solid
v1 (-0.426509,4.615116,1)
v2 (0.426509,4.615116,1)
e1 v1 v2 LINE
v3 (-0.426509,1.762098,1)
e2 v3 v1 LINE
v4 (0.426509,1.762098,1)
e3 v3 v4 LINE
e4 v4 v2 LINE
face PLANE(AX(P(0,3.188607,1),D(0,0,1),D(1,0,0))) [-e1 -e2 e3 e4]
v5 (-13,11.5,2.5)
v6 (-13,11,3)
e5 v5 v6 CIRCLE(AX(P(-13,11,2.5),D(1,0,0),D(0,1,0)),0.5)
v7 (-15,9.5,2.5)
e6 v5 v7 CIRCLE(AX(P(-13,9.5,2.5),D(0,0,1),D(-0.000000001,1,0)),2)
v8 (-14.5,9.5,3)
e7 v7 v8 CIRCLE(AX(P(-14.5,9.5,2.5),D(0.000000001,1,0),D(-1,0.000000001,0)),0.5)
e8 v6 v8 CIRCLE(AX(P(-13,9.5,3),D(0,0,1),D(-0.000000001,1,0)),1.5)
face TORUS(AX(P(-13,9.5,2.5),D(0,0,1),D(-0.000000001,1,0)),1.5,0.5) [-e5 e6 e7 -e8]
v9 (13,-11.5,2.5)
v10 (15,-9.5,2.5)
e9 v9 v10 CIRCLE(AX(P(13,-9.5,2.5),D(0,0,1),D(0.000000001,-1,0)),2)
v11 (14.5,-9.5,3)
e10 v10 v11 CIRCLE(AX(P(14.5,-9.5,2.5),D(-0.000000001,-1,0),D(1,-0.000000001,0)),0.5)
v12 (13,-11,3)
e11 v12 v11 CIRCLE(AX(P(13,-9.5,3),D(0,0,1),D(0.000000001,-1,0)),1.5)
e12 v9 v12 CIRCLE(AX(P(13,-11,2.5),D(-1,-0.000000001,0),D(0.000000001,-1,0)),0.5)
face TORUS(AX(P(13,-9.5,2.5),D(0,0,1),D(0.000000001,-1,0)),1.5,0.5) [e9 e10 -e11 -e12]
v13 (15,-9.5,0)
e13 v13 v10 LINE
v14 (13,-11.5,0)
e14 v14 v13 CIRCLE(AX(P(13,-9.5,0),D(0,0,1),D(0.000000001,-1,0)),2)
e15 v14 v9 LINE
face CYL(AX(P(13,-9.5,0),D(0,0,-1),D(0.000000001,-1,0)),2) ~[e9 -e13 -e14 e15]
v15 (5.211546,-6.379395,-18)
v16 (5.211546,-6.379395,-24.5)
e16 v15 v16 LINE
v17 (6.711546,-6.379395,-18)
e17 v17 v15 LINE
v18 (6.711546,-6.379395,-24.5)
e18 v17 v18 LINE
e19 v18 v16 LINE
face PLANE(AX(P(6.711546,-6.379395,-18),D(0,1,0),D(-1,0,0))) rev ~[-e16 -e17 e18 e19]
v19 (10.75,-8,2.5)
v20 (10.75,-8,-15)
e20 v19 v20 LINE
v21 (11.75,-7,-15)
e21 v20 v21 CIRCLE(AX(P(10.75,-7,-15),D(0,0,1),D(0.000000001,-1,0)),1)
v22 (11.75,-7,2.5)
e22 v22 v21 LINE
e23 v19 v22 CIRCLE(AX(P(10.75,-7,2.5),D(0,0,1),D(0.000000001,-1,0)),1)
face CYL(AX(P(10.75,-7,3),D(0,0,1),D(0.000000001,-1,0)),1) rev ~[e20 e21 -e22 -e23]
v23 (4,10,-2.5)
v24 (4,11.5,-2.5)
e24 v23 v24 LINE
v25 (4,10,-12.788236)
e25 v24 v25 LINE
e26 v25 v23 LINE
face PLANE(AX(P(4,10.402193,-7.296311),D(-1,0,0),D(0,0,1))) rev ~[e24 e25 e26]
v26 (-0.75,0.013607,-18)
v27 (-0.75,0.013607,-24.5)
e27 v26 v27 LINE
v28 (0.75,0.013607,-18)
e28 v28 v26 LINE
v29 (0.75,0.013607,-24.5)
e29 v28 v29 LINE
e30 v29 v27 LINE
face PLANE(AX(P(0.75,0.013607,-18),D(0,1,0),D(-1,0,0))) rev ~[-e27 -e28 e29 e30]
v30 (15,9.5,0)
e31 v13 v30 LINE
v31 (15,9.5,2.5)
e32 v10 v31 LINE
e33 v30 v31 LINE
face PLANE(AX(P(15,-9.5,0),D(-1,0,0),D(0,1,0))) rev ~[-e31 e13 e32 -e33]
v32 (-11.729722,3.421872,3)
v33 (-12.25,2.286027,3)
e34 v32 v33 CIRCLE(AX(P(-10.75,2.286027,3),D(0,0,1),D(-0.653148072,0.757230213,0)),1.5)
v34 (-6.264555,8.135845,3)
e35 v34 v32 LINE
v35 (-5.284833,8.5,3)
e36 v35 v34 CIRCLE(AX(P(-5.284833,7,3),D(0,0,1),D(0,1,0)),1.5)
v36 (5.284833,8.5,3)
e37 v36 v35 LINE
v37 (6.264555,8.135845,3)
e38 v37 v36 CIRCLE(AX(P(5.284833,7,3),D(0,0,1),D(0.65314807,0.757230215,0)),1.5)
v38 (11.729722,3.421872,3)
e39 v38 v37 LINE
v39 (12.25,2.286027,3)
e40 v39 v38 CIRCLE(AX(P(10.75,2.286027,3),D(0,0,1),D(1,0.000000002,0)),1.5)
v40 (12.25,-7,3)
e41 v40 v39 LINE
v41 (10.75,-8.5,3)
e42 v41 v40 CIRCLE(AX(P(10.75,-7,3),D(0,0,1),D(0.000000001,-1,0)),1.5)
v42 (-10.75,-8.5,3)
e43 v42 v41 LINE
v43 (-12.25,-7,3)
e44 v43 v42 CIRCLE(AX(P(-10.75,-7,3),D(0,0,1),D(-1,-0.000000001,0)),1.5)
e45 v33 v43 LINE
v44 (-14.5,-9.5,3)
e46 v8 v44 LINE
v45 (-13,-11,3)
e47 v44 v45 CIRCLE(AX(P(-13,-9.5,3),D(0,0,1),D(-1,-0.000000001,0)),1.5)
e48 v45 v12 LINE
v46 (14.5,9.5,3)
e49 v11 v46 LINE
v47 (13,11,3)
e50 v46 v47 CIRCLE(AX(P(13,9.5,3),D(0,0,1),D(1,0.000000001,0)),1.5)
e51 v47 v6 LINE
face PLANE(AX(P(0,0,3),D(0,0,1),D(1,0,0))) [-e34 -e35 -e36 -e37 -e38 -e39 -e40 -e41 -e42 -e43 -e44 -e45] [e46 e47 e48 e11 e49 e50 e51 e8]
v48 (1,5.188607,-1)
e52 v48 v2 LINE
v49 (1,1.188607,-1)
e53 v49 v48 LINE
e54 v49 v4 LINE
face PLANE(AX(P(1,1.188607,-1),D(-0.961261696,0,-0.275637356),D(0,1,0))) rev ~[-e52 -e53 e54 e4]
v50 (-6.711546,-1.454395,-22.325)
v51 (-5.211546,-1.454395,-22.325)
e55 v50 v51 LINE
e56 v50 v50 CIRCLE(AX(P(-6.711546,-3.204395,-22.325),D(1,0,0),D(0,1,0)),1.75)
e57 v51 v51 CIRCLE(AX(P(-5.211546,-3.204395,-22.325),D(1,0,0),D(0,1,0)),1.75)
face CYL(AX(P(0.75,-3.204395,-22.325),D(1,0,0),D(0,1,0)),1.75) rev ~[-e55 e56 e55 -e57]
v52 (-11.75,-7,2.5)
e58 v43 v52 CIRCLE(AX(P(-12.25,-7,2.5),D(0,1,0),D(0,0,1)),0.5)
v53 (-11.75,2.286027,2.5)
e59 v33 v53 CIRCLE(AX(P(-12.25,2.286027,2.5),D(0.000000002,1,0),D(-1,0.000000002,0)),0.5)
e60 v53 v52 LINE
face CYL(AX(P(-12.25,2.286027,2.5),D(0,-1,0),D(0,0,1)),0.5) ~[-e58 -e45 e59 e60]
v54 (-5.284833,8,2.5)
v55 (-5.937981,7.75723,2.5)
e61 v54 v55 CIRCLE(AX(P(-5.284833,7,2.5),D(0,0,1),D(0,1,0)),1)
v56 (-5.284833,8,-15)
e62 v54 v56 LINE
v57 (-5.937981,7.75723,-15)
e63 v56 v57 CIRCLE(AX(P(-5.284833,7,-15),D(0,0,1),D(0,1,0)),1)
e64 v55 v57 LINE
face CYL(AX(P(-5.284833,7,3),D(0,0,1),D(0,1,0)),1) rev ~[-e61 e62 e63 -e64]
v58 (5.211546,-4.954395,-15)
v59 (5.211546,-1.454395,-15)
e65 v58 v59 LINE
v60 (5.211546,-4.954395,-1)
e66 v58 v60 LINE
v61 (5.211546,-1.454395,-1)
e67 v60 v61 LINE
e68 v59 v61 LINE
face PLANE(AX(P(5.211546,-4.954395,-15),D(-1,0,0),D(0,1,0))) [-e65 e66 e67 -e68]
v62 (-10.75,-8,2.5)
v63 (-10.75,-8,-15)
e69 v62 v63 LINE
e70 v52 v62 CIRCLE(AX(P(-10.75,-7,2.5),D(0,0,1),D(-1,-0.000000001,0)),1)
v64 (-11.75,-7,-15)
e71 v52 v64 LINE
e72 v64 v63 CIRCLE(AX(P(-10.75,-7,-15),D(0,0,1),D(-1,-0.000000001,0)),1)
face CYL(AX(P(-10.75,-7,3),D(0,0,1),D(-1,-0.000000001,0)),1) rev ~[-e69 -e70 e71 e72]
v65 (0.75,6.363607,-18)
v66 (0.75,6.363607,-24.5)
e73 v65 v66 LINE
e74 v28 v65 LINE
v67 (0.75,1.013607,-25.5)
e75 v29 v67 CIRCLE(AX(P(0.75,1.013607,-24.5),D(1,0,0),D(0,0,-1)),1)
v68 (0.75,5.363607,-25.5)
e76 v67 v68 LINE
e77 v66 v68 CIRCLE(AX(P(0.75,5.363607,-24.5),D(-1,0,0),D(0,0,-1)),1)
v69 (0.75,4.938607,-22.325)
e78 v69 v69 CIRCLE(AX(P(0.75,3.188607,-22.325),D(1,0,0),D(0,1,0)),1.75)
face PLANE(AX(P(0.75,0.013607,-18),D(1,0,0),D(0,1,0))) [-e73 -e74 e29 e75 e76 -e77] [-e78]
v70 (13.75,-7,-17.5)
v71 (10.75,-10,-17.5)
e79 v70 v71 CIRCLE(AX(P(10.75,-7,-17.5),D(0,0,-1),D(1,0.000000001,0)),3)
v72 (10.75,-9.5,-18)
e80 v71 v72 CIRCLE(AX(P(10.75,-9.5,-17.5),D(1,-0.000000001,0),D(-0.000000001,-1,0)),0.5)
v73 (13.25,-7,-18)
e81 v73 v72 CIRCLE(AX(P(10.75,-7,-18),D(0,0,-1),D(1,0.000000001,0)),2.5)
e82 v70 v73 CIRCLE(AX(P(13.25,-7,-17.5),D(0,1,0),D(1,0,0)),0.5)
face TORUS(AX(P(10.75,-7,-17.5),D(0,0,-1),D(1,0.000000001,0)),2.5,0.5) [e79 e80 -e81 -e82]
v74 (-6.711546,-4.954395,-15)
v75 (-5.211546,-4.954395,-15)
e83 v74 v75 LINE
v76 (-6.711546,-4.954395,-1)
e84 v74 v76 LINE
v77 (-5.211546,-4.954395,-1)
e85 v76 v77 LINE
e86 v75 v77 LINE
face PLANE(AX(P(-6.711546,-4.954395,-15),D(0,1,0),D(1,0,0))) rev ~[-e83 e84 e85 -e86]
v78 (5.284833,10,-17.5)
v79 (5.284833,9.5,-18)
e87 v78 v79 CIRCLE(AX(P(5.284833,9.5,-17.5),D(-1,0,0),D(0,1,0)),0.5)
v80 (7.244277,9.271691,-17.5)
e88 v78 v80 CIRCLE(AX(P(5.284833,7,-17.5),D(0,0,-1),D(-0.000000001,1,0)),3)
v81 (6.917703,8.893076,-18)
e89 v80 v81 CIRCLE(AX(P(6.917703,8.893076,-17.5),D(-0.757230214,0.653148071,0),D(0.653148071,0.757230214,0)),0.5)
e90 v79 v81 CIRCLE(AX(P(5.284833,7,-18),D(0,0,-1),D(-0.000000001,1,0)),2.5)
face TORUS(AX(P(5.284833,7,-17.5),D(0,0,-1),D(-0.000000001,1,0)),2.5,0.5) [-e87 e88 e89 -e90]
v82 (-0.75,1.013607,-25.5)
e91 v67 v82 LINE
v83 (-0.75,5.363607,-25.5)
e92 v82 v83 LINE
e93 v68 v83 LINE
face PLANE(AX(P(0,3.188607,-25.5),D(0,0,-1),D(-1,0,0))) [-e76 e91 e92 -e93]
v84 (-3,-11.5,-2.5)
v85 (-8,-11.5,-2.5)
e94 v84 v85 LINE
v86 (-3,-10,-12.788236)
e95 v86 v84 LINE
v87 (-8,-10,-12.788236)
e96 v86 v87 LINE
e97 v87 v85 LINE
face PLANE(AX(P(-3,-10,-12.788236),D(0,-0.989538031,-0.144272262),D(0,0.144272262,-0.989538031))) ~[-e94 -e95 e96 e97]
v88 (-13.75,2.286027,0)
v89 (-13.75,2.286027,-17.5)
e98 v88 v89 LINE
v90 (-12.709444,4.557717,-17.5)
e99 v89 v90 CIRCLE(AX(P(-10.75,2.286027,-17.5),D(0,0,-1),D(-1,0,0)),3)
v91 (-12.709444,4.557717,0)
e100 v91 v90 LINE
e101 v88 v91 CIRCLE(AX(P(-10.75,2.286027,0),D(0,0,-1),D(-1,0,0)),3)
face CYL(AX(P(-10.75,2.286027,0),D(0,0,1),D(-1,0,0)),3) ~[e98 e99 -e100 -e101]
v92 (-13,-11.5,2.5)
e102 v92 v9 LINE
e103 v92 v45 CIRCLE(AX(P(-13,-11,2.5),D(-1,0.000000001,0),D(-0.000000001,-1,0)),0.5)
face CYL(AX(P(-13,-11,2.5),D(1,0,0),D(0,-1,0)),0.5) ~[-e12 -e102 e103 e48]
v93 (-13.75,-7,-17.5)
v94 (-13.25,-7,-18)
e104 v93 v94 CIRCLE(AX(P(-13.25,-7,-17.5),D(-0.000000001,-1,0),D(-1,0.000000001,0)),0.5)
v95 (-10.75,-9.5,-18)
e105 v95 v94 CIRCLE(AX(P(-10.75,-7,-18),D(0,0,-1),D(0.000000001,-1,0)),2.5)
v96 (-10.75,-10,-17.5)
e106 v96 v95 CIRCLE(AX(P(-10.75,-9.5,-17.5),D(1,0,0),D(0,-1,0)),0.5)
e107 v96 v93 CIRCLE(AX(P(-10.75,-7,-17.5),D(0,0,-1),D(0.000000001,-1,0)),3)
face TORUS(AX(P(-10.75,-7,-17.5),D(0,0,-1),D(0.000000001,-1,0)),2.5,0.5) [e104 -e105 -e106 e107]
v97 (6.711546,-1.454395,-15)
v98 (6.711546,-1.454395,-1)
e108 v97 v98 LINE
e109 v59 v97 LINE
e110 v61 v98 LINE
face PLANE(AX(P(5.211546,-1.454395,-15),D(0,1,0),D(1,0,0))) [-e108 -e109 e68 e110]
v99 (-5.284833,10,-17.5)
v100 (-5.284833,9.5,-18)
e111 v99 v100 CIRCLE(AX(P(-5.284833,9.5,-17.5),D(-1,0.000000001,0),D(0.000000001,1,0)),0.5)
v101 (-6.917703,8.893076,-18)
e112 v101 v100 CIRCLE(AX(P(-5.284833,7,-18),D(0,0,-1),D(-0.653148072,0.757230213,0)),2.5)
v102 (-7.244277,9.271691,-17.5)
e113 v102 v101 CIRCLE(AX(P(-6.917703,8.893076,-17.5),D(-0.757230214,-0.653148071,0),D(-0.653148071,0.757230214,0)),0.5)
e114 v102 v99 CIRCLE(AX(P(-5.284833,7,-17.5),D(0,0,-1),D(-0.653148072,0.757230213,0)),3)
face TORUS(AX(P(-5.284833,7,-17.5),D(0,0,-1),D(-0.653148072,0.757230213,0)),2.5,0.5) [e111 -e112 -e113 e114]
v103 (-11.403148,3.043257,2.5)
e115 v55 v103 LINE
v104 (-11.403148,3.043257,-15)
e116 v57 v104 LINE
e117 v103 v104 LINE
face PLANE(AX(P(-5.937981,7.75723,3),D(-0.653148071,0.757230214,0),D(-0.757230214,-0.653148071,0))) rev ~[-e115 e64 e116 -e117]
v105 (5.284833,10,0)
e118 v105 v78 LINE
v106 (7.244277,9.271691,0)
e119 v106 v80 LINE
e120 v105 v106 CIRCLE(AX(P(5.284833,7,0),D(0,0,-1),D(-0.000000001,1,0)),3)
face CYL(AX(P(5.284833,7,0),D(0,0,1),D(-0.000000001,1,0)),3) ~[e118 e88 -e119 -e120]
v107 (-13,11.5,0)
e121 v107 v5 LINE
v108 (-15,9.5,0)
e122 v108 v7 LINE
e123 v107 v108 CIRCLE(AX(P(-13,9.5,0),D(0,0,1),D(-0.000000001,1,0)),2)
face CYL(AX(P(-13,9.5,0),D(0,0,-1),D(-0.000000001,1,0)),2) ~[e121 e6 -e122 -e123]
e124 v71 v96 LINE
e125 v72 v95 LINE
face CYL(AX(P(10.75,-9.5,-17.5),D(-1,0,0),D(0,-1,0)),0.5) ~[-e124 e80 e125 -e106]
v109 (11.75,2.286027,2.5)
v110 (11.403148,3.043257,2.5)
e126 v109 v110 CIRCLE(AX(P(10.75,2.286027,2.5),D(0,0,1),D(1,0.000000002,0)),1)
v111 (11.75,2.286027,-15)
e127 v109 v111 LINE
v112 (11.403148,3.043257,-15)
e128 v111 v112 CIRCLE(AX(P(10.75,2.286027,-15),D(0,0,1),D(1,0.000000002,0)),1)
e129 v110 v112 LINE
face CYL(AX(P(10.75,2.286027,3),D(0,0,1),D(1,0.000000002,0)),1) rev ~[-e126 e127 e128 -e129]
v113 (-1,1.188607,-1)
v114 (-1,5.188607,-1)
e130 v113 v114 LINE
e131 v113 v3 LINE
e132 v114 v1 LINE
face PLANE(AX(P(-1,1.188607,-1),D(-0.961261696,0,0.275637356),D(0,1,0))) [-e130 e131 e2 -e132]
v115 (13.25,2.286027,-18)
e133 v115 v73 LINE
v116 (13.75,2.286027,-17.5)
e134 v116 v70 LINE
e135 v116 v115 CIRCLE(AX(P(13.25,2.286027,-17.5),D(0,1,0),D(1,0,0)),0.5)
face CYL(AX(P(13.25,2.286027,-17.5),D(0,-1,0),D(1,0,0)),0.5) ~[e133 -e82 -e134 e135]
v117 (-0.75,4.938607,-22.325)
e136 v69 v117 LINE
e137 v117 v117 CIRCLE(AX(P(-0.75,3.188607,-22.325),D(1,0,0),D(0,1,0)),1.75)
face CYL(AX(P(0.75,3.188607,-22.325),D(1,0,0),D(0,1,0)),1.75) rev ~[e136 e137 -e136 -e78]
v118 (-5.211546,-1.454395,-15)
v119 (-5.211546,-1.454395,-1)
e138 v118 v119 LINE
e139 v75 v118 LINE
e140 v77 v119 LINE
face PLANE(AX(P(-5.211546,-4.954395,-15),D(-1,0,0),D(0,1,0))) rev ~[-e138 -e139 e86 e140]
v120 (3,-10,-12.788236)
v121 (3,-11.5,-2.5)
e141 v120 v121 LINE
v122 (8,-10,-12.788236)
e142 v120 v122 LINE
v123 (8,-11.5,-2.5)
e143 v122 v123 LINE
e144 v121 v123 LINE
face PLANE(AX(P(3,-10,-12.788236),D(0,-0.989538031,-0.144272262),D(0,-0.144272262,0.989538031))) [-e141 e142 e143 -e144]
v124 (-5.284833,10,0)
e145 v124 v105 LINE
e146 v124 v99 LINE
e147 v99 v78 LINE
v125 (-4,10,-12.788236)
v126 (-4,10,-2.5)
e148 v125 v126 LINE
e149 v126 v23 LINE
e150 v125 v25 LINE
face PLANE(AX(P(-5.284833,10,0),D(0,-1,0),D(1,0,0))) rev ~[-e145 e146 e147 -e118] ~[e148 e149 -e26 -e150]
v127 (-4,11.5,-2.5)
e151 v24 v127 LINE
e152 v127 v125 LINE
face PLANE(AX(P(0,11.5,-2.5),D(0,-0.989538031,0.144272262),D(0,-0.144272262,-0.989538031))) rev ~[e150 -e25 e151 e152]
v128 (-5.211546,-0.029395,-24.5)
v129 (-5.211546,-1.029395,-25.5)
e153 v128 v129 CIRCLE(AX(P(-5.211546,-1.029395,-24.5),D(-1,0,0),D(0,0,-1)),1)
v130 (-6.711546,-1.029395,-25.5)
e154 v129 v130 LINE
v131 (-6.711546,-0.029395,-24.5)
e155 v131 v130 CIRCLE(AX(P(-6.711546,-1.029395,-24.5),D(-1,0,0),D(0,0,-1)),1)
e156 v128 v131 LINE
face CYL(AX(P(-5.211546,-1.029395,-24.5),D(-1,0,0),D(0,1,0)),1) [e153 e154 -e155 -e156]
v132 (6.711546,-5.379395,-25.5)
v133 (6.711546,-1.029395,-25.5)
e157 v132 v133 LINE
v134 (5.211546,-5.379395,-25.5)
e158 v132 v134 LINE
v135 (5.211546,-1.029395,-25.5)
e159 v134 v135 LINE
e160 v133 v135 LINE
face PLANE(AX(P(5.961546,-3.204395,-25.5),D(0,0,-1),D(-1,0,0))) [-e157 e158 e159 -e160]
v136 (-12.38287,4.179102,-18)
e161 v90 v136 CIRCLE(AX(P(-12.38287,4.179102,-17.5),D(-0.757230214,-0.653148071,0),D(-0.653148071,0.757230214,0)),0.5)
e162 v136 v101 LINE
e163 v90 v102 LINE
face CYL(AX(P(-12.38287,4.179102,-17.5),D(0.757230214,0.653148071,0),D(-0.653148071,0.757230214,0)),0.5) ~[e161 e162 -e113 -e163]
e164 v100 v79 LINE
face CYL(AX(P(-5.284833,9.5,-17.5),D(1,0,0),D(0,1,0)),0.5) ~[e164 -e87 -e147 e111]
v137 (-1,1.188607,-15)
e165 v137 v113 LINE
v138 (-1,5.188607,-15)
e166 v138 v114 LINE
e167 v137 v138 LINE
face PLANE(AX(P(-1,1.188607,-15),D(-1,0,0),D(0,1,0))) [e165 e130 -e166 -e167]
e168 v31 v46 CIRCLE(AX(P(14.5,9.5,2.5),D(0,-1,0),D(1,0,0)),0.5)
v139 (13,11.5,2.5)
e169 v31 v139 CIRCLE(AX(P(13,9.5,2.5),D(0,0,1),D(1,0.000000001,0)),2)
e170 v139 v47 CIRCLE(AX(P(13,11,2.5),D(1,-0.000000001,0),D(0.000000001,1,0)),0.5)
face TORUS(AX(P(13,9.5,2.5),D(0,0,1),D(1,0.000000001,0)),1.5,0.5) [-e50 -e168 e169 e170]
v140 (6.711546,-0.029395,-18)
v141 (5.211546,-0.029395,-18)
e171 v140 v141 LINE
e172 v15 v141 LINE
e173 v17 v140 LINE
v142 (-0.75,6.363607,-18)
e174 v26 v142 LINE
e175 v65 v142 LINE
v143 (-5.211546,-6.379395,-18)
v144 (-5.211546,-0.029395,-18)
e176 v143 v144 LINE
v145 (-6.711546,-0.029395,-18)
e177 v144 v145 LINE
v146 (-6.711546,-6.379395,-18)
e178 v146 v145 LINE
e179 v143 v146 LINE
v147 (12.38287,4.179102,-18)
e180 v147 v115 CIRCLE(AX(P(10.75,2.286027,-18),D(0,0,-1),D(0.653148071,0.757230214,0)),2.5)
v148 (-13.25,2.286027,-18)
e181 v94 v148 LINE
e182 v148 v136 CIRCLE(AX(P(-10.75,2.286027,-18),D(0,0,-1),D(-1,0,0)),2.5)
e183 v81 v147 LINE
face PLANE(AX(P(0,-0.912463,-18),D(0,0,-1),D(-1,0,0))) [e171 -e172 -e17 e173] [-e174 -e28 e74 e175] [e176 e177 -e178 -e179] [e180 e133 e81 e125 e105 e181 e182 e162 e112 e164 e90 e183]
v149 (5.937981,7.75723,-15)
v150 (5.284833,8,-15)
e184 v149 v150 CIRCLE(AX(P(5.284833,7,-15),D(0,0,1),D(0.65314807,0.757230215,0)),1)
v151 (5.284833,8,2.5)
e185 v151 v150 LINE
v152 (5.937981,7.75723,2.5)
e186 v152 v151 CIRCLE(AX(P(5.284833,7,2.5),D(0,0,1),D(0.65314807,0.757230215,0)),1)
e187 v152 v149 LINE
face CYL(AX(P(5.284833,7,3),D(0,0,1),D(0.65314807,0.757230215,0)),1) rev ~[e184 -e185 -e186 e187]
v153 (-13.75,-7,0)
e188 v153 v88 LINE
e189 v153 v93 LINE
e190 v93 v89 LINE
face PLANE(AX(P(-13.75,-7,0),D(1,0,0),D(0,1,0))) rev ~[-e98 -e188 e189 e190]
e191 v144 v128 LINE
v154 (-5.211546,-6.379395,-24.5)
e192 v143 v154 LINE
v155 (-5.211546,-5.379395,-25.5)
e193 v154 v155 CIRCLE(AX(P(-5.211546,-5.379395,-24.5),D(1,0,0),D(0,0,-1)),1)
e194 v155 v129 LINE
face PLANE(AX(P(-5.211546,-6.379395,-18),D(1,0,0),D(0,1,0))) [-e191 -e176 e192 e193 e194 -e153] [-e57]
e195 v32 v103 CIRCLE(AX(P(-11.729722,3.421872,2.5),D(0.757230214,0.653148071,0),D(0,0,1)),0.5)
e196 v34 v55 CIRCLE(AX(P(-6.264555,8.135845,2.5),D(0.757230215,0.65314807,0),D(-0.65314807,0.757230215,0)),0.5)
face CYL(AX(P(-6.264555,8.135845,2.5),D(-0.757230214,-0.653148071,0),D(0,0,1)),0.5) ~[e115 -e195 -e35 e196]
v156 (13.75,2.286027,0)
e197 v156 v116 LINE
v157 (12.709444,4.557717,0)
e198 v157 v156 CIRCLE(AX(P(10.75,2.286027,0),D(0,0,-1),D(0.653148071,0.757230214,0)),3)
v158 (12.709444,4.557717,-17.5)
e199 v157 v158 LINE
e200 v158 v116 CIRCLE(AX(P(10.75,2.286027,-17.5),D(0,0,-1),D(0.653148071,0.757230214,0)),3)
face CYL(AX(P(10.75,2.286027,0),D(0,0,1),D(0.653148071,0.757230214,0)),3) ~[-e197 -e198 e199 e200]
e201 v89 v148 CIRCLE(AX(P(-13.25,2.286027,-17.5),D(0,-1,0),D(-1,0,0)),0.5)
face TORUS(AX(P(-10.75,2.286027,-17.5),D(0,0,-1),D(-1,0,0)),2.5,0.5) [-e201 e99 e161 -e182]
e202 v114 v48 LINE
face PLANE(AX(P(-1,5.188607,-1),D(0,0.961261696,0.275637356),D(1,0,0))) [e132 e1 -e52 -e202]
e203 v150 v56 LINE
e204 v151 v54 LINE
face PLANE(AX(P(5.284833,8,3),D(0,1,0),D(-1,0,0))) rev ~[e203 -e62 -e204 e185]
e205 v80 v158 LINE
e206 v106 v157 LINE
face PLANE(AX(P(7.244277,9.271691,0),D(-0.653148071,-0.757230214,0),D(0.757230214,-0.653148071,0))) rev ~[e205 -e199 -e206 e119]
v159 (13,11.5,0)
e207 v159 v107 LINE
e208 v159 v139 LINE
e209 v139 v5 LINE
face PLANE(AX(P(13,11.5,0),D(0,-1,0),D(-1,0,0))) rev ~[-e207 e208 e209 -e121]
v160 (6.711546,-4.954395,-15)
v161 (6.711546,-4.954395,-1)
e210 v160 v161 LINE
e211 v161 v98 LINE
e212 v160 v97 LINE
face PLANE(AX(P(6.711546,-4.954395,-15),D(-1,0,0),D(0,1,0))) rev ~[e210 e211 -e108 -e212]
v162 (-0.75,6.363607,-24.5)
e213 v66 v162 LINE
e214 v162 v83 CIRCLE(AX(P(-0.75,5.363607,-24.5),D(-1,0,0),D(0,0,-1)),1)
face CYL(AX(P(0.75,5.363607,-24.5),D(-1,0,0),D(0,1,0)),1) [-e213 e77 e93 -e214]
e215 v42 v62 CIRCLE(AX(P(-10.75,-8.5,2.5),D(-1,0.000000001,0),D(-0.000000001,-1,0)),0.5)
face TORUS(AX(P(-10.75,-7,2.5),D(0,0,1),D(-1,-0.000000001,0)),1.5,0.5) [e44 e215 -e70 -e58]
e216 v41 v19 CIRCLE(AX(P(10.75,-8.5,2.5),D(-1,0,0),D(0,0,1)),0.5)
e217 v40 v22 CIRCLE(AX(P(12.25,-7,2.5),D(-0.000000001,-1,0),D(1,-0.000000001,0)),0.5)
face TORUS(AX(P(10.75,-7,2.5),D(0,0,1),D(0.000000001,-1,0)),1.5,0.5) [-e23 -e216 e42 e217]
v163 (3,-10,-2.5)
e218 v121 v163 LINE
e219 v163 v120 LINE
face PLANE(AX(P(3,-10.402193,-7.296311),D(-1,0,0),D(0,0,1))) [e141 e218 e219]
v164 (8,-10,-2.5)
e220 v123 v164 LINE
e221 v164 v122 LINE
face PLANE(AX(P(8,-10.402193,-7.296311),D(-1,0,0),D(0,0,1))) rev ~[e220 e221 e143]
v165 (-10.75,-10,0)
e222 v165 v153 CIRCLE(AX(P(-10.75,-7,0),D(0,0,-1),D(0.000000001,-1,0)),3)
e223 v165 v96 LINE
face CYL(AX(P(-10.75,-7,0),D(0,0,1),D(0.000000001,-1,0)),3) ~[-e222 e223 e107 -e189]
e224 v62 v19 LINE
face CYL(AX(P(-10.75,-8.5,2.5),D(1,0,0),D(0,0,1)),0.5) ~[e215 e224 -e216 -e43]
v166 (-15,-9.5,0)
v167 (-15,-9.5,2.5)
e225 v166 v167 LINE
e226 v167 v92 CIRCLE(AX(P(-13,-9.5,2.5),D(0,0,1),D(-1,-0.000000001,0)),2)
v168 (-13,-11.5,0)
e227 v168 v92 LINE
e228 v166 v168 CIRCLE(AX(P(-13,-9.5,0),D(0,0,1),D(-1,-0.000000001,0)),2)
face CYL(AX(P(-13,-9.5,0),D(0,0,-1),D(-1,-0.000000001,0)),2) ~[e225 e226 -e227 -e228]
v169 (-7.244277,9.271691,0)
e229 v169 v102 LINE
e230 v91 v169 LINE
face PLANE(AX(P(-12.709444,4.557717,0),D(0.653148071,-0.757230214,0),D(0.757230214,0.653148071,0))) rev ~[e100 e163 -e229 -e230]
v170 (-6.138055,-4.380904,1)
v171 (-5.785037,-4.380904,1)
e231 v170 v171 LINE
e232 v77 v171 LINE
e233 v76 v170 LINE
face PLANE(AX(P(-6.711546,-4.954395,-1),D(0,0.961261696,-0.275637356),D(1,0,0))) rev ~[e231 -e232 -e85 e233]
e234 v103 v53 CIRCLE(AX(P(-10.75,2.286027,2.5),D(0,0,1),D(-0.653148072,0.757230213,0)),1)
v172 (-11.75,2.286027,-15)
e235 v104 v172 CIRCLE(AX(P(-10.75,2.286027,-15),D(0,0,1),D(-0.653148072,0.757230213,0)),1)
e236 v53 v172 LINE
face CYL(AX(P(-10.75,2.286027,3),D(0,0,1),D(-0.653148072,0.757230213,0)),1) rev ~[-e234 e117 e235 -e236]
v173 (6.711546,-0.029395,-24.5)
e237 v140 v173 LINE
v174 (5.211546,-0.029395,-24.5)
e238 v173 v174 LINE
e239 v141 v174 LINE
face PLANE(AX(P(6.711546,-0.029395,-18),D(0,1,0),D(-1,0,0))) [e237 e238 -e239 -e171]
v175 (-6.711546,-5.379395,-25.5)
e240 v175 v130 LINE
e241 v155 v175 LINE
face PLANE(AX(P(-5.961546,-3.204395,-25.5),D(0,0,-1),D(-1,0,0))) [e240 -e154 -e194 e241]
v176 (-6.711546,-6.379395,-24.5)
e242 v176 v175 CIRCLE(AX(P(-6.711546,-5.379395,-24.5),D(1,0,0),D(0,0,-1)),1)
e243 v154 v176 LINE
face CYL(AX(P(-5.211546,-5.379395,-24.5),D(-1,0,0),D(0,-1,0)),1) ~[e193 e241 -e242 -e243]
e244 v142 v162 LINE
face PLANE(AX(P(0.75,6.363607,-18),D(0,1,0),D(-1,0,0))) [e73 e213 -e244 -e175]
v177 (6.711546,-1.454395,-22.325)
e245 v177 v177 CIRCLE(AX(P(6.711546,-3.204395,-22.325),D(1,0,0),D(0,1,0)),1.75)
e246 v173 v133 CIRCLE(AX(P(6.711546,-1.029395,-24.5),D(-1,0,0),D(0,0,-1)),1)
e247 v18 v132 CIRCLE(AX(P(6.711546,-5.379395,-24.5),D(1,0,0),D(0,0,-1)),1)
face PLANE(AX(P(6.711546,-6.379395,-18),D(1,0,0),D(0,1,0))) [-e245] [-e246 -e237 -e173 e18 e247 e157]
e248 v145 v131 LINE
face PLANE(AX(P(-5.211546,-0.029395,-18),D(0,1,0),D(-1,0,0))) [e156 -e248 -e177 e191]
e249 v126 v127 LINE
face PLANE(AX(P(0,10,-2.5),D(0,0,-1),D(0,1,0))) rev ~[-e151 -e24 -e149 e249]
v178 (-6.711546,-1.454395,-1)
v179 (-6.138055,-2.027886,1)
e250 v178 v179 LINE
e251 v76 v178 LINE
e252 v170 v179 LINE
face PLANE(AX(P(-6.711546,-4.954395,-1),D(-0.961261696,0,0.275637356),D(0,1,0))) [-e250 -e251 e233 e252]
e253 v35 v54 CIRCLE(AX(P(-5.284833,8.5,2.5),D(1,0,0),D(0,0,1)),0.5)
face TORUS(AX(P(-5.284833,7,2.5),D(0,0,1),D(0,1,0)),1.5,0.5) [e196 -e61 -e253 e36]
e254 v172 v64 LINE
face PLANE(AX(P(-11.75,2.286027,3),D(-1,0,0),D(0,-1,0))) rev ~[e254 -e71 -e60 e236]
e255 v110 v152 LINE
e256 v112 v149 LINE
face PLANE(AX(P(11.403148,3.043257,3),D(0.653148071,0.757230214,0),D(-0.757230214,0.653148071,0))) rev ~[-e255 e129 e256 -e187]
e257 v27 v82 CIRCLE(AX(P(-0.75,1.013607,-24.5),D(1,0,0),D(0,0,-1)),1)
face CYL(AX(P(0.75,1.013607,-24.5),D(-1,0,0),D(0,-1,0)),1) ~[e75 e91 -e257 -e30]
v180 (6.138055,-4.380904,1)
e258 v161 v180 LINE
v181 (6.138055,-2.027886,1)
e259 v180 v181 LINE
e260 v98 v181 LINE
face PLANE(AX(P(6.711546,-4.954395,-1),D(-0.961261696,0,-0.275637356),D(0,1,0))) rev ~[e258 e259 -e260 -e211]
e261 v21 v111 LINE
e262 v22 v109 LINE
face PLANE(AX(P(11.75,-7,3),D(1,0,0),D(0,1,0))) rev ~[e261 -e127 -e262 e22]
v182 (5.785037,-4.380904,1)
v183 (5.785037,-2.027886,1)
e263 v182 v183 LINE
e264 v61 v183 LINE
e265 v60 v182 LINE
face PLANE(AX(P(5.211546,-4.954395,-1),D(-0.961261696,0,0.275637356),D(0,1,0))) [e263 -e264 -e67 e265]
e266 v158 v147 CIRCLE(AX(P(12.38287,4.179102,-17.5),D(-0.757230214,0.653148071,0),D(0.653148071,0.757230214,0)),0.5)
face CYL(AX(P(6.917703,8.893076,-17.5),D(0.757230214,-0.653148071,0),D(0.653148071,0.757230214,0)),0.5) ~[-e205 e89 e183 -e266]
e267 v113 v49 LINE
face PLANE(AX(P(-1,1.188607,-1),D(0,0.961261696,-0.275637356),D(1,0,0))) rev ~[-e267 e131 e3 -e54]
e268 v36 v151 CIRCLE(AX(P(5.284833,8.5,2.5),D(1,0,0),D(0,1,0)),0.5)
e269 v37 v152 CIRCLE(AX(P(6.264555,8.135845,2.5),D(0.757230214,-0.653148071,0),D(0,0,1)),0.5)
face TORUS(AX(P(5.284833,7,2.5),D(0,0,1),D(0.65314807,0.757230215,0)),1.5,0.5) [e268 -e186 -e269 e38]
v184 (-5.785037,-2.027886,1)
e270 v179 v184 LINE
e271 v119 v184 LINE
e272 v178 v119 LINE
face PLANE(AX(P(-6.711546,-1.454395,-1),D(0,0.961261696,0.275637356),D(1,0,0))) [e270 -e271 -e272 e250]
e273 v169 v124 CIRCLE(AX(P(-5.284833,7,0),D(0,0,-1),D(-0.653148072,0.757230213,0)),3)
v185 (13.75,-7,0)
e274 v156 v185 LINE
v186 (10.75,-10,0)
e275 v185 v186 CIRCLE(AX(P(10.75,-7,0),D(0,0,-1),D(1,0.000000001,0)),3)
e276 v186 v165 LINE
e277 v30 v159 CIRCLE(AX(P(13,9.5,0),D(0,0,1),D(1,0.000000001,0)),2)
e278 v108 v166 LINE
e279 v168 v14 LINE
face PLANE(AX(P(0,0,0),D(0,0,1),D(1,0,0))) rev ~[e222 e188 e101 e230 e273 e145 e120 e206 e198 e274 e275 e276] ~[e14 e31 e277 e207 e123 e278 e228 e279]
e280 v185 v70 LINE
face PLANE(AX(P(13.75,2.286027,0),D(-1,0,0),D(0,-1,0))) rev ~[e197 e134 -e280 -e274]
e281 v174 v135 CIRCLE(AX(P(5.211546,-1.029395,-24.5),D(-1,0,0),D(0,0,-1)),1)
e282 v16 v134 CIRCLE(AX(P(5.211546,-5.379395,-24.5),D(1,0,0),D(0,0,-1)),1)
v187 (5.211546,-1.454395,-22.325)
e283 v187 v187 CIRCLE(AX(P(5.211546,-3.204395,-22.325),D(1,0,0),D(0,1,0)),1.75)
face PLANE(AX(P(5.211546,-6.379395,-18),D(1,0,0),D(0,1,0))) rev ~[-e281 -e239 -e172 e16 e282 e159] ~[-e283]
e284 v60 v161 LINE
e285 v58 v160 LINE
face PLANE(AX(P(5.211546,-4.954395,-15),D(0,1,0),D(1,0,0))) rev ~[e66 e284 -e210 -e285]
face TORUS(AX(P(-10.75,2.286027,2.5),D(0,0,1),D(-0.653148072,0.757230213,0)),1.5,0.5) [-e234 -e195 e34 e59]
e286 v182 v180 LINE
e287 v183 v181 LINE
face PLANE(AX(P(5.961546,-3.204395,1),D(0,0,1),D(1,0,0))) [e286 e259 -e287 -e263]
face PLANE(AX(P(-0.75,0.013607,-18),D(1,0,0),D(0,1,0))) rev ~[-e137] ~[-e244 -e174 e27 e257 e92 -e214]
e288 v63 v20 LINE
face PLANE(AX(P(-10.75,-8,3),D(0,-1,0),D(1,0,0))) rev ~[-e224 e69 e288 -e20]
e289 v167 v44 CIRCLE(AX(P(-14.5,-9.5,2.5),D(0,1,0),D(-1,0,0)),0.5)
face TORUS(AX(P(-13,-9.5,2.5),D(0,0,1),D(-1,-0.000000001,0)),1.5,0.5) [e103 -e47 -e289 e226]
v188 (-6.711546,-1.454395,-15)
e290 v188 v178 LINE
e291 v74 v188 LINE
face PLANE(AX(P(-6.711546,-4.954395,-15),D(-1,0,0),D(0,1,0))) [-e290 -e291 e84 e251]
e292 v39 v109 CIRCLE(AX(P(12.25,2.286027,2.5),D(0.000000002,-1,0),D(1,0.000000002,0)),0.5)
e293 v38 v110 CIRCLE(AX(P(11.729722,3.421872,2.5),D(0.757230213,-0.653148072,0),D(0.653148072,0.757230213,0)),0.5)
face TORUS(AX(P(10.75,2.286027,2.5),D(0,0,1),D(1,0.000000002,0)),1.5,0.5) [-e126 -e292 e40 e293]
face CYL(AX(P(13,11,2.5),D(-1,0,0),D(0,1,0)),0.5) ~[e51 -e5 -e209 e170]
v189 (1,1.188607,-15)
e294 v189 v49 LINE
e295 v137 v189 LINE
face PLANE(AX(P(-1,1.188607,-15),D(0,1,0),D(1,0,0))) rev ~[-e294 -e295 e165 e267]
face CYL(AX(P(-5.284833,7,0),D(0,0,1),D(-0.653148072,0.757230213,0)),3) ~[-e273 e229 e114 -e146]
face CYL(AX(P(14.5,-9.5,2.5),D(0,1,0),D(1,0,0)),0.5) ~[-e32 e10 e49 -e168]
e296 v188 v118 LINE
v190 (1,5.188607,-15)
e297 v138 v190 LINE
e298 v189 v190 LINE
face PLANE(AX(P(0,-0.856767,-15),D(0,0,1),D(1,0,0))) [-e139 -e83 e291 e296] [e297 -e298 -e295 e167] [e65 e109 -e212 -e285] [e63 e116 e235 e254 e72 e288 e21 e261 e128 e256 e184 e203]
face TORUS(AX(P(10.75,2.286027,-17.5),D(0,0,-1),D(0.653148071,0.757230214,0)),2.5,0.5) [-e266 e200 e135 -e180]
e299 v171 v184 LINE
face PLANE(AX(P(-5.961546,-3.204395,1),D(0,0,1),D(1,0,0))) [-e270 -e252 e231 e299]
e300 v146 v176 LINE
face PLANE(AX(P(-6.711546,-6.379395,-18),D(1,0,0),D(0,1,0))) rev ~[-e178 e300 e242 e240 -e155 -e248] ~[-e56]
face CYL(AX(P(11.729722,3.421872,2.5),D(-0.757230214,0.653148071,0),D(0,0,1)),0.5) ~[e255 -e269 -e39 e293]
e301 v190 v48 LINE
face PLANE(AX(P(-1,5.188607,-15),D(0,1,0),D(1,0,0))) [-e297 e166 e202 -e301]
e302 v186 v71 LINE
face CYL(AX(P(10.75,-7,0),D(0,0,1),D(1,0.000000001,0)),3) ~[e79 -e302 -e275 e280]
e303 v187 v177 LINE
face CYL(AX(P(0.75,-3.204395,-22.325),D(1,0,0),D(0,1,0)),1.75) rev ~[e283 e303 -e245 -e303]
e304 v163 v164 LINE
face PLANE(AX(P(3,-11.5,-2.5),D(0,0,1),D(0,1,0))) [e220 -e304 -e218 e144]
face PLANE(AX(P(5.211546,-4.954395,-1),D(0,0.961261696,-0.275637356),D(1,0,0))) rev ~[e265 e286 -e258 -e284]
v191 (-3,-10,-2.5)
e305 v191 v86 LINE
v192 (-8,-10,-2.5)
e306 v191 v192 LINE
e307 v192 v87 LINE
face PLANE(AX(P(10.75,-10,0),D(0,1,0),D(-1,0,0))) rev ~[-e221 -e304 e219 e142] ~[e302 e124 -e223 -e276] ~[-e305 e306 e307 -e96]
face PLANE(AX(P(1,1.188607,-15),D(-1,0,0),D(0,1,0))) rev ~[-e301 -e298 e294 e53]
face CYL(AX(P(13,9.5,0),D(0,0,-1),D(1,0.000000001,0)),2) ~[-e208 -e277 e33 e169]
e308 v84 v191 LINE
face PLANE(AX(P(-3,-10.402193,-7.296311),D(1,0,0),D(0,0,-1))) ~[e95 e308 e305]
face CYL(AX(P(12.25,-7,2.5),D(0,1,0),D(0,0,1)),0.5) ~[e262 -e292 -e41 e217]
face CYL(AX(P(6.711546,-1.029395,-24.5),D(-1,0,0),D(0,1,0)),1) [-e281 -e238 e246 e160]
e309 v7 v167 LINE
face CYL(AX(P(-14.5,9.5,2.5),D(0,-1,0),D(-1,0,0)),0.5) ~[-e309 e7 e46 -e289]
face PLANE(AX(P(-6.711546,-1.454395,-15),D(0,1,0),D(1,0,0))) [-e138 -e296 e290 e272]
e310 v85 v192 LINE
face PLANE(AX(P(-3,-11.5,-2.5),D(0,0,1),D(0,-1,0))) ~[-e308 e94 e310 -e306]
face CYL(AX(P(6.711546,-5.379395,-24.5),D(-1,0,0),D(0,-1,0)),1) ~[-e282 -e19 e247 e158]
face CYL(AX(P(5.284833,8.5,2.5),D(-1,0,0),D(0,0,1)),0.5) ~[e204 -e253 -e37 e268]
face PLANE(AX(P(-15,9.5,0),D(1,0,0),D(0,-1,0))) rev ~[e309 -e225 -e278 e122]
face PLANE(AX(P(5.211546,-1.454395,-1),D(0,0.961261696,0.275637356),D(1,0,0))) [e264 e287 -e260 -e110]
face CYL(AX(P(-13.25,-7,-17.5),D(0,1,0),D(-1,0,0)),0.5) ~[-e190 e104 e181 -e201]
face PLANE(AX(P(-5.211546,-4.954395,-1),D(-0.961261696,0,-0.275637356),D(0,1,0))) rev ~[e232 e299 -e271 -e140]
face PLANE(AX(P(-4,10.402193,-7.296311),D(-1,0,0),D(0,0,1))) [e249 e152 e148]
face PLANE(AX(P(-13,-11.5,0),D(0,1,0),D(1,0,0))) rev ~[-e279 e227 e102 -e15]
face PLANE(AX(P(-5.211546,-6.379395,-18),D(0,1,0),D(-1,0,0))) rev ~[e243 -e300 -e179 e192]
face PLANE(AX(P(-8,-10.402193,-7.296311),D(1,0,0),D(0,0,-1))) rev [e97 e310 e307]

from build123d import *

# Parameters (mm, degrees)
BOSS_EXTRUDE1_DEPTH           = 3
BOSS_EXTRUDE2_DEPTH           = 18
CUT_EXTRUDE1_DEPTH            = 18
FILLET2_R                     = 0.5
BOSS_EXTRUDE3_DEPTH           = 4
BOSS_EXTRUDE4_START           = 3
BOSS_EXTRUDE4_DEPTH           = 5
SKETCH6_W                     = 2
SKETCH6_H                     = 4
SKETCH6_W_2                   = 1.5
SKETCH6_H_2                   = 3.5
BOSS_EXTRUDE5_DEPTH           = 14
SKETCH7_W                     = 1.5
SKETCH7_H                     = 3.5
BOSS_EXTRUDE6_DEPTH           = 2
BOSS_EXTRUDE6_DRAFT           = 16
SKETCH7_W_2                   = 2
SKETCH7_H_2                   = 4
BOSS_EXTRUDE6_PROFILE_2_DEPTH = 2
BOSS_EXTRUDE6_PROFILE_2_DRAFT = 16
BOSS_EXTRUDE6_PROFILE_3_DEPTH = 2
BOSS_EXTRUDE6_PROFILE_3_DRAFT = 16
SKETCH8_W                     = 1.5
SKETCH8_H                     = 6.35
BOSS_EXTRUDE7_DEPTH           = 7.5
FILLET3_R                     = 1
SKETCH9_R                     = 1.75
CUT_EXTRUDE2_DEPTH            = 11


with BuildPart() as part:
    # Sketch1 → Boss-Extrude1 (new body)
    with BuildSketch(Plane.XY):
        with BuildLine():
            Line((-13, -11.5), (13, -11.5))
            ThreePointArc((13, -11.5), (14.414213562, -10.914213562), (15, -9.5))
            Line((15, -9.5), (15, 9.5))
            ThreePointArc((15, 9.5), (14.414213562, 10.914213562), (13, 11.5))
            Line((13, 11.5), (-13, 11.5))
            ThreePointArc((-13, 11.5), (-14.414213562, 10.914213562), (-15, 9.5))
            Line((-15, 9.5), (-15, -9.5))
            ThreePointArc((-15, -9.5), (-14.414213562, -10.914213562), (-13, -11.5))
        make_face()
    extrude(amount=BOSS_EXTRUDE1_DEPTH)

    # Sketch2 → Boss-Extrude2 (add)
    with BuildSketch(Plane(origin=(0, 0, 0), x_dir=(-1, 0, 0), z_dir=(0, 0, -1))):
        with BuildLine():
            Line((-7.244277484, 9.271690642), (-12.709444213, 4.557717215))
            ThreePointArc((-12.709444213, 4.557717215), (-13.477483514, 3.535359867), (-13.75, 2.286026573))
            Line((-13.75, 2.286026573), (-13.75, -7))
            ThreePointArc((-13.75, -7), (-12.871320344, -9.121320344), (-10.75, -10))
            Line((-10.75, -10), (10.75, -10))
            ThreePointArc((10.75, -10), (12.871320344, -9.121320344), (13.75, -7))
            Line((13.75, -7), (13.75, 2.286026573))
            ThreePointArc((13.75, 2.286026573), (13.477483514, 3.535359867), (12.709444213, 4.557717215))
            Line((12.709444213, 4.557717215), (7.244277484, 9.271690642))
            ThreePointArc((7.244277484, 9.271690642), (6.330043315, 9.812034133), (5.28483327, 10))
            Line((5.28483327, 10), (-5.28483327, 10))
            ThreePointArc((-5.28483327, 10), (-6.330043315, 9.812034133), (-7.244277484, 9.271690642))
        make_face()
    extrude(amount=BOSS_EXTRUDE2_DEPTH)

    # Sketch3 → Cut-Extrude1 (cut)
    with BuildSketch(Plane.XY.offset(3)):
        with BuildLine():
            Line((11.403148071, 3.043256787), (5.937981342, 7.757230214))
            ThreePointArc((5.937981342, 7.757230214), (5.633236618, 7.937344711), (5.28483327, 8))
            Line((5.28483327, 8), (-5.28483327, 8))
            ThreePointArc((-5.28483327, 8), (-5.633236618, 7.937344711), (-5.937981342, 7.757230214))
            Line((-5.937981342, 7.757230214), (-11.403148071, 3.043256787))
            ThreePointArc((-11.403148071, 3.043256787), (-11.659161171, 2.702471004), (-11.75, 2.286026573))
            Line((-11.75, 2.286026573), (-11.75, -7))
            ThreePointArc((-11.75, -7), (-11.457106781, -7.707106781), (-10.75, -8))
            Line((-10.75, -8), (10.75, -8))
            ThreePointArc((10.75, -8), (11.457106781, -7.707106781), (11.75, -7))
            Line((11.75, -7), (11.75, 2.286026573))
            ThreePointArc((11.75, 2.286026573), (11.659161171, 2.702471004), (11.403148071, 3.043256787))
        make_face()
    extrude(amount=-CUT_EXTRUDE1_DEPTH, mode=Mode.SUBTRACT)

    # Fillet2
    fillet2_edges = [part.edges().sort_by_distance(p)[0] for p in [
        (14.414213562, -10.914213562, 3),
        (15, 0, 3),
        (14.414213562, 10.914213562, 3),
        (0, 11.5, 3),
        (-14.414213562, 10.914213562, 3),
        (-15, 0, 3),
        (9.976860849, 6.914703929, -18),
        (13.75, -2.356986713, -18),
        (12.871320344, -9.121320344, -18),
        (-13.477483514, 3.535359867, -18),
        (-9.976860849, 6.914703929, -18),
        (-6.330043315, 9.812034133, -18),
        (0, 10, -18),
        (6.330043315, 9.812034133, -18),
        (13.477483514, 3.535359867, -18),
        (0, -10, -18),
        (-12.871320344, -9.121320344, -18),
        (-13.75, -2.356986713, -18),
        (-14.414213562, -10.914213562, 3),
        (11.659161171, 2.702471004, 3),
        (8.670564706, 5.400243501, 3),
        (5.633236618, 7.937344711, 3),
        (0, 8, 3),
        (-5.633236618, 7.937344711, 3),
        (-8.670564706, 5.400243501, 3),
        (-11.659161171, 2.702471004, 3),
        (-11.75, -2.356986713, 3),
        (-11.457106781, -7.707106781, 3),
        (0, -8, 3),
        (11.457106781, -7.707106781, 3),
        (11.75, -2.356986713, 3),
        (0, -11.5, 3),
    ]]
    fillet(fillet2_edges, radius=FILLET2_R)

    # Sketch4 → Boss-Extrude3 (add, symmetric)
    with BuildSketch(Plane(origin=(0, 0, 0), x_dir=(0, 0, -1), z_dir=(1, 0, 0))):
        Polygon((2.5, 10), (2.5, 11.5), (12.788235775, 10), align=None)
    extrude(amount=BOSS_EXTRUDE3_DEPTH, both=True)

    # Sketch5 → Boss-Extrude4 (add)
    with BuildSketch(Plane(origin=(0, 0, 0), x_dir=(0, 0, -1), z_dir=(1, 0, 0)).offset(BOSS_EXTRUDE4_START)):
        Polygon((2.5, -10), (12.788235775, -10), (2.5, -11.5), align=None)
    boss_extrude4 = extrude(amount=BOSS_EXTRUDE4_DEPTH)

    # Mirror1: Boss-Extrude4 across plane
    add(boss_extrude4.mirror(Plane(origin=(0, 0, 0), x_dir=(0, 0, 1), z_dir=(1, 0, 0))))

    # Sketch6 → Boss-Extrude5 (add)
    with BuildSketch(Plane.XY.offset(-15)):
        with Locations((0, 3.188606821)):
            Rectangle(SKETCH6_W, SKETCH6_H)
        with Locations((-5.961546064, -3.204394816)):
            Rectangle(SKETCH6_W_2, SKETCH6_H_2)
        with Locations((5.961546064, -3.204394816)):
            Rectangle(SKETCH6_W_2, SKETCH6_H_2)
    extrude(amount=BOSS_EXTRUDE5_DEPTH)


with BuildPart() as boss_extrude6_tool:
    # Sketch7 → Boss-Extrude6 (with draft: the straight prism first)
    with BuildSketch(Plane.XY.offset(-1)):
        with Locations((-5.961546064, -3.204394816)):
            Rectangle(SKETCH7_W, SKETCH7_H)
    extrude(amount=BOSS_EXTRUDE6_DEPTH)
    # Boss-Extrude6: the draft: its side faces are tilted about the plane it starts from
    boss_extrude6_sides = [boss_extrude6_tool.faces().sort_by_distance(p)[0] for p in [
        (-5.211546064, -3.204394816, 0),
        (-5.961546064, -1.454394816, 0),
        (-6.711546064, -3.204394816, 0),
        (-5.961546064, -4.954394816, 0),
    ]]
    draft(boss_extrude6_sides, Plane.XY.offset(-1), BOSS_EXTRUDE6_DRAFT)


with BuildPart() as part_1:
    add(part.part)

    # Boss-Extrude6: add boss_extrude6_tool
    add(boss_extrude6_tool.part)


with BuildPart() as boss_extrude6_profile_2_tool:
    # Sketch7 → Boss-Extrude6 profile 2 (with draft: the straight prism first)
    with BuildSketch(Plane.XY.offset(-1)):
        with Locations((0, 3.188606821)):
            Rectangle(SKETCH7_W_2, SKETCH7_H_2)
    extrude(amount=BOSS_EXTRUDE6_PROFILE_2_DEPTH)
    # Boss-Extrude6 profile 2: the draft: its side faces are tilted about the plane it starts from
    boss_extrude6_profile_2_sides = [boss_extrude6_profile_2_tool.faces().sort_by_distance(p)[0] for p in [
        (-1, 3.188606821, 0),
        (0, 1.188606821, 0),
        (1, 3.188606821, 0),
        (0, 5.188606821, 0),
    ]]
    draft(boss_extrude6_profile_2_sides, Plane.XY.offset(-1), BOSS_EXTRUDE6_PROFILE_2_DRAFT)


with BuildPart() as part_2:
    add(part_1.part)

    # Boss-Extrude6 profile 2: add boss_extrude6_profile_2_tool
    add(boss_extrude6_profile_2_tool.part)


with BuildPart() as boss_extrude6_profile_3_tool:
    # Sketch7 → Boss-Extrude6 profile 3 (with draft: the straight prism first)
    with BuildSketch(Plane.XY.offset(-1)):
        with Locations((5.961546064, -3.204394816)):
            Rectangle(SKETCH7_W, SKETCH7_H)
    extrude(amount=BOSS_EXTRUDE6_PROFILE_3_DEPTH)
    # Boss-Extrude6 profile 3: the draft: its side faces are tilted about the plane it starts from
    boss_extrude6_profile_3_sides = [boss_extrude6_profile_3_tool.faces().sort_by_distance(p)[0] for p in [
        (6.711546064, -3.204394816, 0),
        (5.961546064, -1.454394816, 0),
        (5.211546064, -3.204394816, 0),
        (5.961546064, -4.954394816, 0),
    ]]
    draft(boss_extrude6_profile_3_sides, Plane.XY.offset(-1), BOSS_EXTRUDE6_PROFILE_3_DRAFT)


with BuildPart() as part_3:
    add(part_2.part)

    # Boss-Extrude6 profile 3: add boss_extrude6_profile_3_tool
    add(boss_extrude6_profile_3_tool.part)

    # Sketch8 → Boss-Extrude7 (add)
    with BuildSketch(Plane(origin=(0, 0, -18), x_dir=(-1, 0, 0), z_dir=(0, 0, -1))):
        with Locations((0, 3.188606821)):
            Rectangle(SKETCH8_W, SKETCH8_H)
        with Locations((-5.961546064, -3.204394816)):
            Rectangle(SKETCH8_W, SKETCH8_H)
        with Locations((5.961546064, -3.204394816)):
            Rectangle(SKETCH8_W, SKETCH8_H)
    extrude(amount=BOSS_EXTRUDE7_DEPTH)

    # Fillet3
    fillet3_edges = [part_3.edges().sort_by_distance(p)[0] for p in [
        (0, 0.013606821, -25.5),
        (0, 6.363606821, -25.5),
        (5.961546064, -6.379394816, -25.5),
        (5.961546064, -0.029394816, -25.5),
        (-5.961546064, -6.379394816, -25.5),
        (-5.961546064, -0.029394816, -25.5),
    ]]
    fillet(fillet3_edges, radius=FILLET3_R)

    # Sketch9 → Cut-Extrude2 (cut, symmetric)
    with BuildSketch(Plane(origin=(0.75, 0, 0), x_dir=(0, 0, -1), z_dir=(1, 0, 0))):
        with Locations(Location((22.325, 3.188606821, 0), (0, 0, 90))):
            Circle(SKETCH9_R)
        with Locations(Location((22.325, -3.204394816, 0), (0, 0, 90))):
            Circle(SKETCH9_R)
    extrude(amount=CUT_EXTRUDE2_DEPTH, both=True, mode=Mode.SUBTRACT)


solid = part_3.part
